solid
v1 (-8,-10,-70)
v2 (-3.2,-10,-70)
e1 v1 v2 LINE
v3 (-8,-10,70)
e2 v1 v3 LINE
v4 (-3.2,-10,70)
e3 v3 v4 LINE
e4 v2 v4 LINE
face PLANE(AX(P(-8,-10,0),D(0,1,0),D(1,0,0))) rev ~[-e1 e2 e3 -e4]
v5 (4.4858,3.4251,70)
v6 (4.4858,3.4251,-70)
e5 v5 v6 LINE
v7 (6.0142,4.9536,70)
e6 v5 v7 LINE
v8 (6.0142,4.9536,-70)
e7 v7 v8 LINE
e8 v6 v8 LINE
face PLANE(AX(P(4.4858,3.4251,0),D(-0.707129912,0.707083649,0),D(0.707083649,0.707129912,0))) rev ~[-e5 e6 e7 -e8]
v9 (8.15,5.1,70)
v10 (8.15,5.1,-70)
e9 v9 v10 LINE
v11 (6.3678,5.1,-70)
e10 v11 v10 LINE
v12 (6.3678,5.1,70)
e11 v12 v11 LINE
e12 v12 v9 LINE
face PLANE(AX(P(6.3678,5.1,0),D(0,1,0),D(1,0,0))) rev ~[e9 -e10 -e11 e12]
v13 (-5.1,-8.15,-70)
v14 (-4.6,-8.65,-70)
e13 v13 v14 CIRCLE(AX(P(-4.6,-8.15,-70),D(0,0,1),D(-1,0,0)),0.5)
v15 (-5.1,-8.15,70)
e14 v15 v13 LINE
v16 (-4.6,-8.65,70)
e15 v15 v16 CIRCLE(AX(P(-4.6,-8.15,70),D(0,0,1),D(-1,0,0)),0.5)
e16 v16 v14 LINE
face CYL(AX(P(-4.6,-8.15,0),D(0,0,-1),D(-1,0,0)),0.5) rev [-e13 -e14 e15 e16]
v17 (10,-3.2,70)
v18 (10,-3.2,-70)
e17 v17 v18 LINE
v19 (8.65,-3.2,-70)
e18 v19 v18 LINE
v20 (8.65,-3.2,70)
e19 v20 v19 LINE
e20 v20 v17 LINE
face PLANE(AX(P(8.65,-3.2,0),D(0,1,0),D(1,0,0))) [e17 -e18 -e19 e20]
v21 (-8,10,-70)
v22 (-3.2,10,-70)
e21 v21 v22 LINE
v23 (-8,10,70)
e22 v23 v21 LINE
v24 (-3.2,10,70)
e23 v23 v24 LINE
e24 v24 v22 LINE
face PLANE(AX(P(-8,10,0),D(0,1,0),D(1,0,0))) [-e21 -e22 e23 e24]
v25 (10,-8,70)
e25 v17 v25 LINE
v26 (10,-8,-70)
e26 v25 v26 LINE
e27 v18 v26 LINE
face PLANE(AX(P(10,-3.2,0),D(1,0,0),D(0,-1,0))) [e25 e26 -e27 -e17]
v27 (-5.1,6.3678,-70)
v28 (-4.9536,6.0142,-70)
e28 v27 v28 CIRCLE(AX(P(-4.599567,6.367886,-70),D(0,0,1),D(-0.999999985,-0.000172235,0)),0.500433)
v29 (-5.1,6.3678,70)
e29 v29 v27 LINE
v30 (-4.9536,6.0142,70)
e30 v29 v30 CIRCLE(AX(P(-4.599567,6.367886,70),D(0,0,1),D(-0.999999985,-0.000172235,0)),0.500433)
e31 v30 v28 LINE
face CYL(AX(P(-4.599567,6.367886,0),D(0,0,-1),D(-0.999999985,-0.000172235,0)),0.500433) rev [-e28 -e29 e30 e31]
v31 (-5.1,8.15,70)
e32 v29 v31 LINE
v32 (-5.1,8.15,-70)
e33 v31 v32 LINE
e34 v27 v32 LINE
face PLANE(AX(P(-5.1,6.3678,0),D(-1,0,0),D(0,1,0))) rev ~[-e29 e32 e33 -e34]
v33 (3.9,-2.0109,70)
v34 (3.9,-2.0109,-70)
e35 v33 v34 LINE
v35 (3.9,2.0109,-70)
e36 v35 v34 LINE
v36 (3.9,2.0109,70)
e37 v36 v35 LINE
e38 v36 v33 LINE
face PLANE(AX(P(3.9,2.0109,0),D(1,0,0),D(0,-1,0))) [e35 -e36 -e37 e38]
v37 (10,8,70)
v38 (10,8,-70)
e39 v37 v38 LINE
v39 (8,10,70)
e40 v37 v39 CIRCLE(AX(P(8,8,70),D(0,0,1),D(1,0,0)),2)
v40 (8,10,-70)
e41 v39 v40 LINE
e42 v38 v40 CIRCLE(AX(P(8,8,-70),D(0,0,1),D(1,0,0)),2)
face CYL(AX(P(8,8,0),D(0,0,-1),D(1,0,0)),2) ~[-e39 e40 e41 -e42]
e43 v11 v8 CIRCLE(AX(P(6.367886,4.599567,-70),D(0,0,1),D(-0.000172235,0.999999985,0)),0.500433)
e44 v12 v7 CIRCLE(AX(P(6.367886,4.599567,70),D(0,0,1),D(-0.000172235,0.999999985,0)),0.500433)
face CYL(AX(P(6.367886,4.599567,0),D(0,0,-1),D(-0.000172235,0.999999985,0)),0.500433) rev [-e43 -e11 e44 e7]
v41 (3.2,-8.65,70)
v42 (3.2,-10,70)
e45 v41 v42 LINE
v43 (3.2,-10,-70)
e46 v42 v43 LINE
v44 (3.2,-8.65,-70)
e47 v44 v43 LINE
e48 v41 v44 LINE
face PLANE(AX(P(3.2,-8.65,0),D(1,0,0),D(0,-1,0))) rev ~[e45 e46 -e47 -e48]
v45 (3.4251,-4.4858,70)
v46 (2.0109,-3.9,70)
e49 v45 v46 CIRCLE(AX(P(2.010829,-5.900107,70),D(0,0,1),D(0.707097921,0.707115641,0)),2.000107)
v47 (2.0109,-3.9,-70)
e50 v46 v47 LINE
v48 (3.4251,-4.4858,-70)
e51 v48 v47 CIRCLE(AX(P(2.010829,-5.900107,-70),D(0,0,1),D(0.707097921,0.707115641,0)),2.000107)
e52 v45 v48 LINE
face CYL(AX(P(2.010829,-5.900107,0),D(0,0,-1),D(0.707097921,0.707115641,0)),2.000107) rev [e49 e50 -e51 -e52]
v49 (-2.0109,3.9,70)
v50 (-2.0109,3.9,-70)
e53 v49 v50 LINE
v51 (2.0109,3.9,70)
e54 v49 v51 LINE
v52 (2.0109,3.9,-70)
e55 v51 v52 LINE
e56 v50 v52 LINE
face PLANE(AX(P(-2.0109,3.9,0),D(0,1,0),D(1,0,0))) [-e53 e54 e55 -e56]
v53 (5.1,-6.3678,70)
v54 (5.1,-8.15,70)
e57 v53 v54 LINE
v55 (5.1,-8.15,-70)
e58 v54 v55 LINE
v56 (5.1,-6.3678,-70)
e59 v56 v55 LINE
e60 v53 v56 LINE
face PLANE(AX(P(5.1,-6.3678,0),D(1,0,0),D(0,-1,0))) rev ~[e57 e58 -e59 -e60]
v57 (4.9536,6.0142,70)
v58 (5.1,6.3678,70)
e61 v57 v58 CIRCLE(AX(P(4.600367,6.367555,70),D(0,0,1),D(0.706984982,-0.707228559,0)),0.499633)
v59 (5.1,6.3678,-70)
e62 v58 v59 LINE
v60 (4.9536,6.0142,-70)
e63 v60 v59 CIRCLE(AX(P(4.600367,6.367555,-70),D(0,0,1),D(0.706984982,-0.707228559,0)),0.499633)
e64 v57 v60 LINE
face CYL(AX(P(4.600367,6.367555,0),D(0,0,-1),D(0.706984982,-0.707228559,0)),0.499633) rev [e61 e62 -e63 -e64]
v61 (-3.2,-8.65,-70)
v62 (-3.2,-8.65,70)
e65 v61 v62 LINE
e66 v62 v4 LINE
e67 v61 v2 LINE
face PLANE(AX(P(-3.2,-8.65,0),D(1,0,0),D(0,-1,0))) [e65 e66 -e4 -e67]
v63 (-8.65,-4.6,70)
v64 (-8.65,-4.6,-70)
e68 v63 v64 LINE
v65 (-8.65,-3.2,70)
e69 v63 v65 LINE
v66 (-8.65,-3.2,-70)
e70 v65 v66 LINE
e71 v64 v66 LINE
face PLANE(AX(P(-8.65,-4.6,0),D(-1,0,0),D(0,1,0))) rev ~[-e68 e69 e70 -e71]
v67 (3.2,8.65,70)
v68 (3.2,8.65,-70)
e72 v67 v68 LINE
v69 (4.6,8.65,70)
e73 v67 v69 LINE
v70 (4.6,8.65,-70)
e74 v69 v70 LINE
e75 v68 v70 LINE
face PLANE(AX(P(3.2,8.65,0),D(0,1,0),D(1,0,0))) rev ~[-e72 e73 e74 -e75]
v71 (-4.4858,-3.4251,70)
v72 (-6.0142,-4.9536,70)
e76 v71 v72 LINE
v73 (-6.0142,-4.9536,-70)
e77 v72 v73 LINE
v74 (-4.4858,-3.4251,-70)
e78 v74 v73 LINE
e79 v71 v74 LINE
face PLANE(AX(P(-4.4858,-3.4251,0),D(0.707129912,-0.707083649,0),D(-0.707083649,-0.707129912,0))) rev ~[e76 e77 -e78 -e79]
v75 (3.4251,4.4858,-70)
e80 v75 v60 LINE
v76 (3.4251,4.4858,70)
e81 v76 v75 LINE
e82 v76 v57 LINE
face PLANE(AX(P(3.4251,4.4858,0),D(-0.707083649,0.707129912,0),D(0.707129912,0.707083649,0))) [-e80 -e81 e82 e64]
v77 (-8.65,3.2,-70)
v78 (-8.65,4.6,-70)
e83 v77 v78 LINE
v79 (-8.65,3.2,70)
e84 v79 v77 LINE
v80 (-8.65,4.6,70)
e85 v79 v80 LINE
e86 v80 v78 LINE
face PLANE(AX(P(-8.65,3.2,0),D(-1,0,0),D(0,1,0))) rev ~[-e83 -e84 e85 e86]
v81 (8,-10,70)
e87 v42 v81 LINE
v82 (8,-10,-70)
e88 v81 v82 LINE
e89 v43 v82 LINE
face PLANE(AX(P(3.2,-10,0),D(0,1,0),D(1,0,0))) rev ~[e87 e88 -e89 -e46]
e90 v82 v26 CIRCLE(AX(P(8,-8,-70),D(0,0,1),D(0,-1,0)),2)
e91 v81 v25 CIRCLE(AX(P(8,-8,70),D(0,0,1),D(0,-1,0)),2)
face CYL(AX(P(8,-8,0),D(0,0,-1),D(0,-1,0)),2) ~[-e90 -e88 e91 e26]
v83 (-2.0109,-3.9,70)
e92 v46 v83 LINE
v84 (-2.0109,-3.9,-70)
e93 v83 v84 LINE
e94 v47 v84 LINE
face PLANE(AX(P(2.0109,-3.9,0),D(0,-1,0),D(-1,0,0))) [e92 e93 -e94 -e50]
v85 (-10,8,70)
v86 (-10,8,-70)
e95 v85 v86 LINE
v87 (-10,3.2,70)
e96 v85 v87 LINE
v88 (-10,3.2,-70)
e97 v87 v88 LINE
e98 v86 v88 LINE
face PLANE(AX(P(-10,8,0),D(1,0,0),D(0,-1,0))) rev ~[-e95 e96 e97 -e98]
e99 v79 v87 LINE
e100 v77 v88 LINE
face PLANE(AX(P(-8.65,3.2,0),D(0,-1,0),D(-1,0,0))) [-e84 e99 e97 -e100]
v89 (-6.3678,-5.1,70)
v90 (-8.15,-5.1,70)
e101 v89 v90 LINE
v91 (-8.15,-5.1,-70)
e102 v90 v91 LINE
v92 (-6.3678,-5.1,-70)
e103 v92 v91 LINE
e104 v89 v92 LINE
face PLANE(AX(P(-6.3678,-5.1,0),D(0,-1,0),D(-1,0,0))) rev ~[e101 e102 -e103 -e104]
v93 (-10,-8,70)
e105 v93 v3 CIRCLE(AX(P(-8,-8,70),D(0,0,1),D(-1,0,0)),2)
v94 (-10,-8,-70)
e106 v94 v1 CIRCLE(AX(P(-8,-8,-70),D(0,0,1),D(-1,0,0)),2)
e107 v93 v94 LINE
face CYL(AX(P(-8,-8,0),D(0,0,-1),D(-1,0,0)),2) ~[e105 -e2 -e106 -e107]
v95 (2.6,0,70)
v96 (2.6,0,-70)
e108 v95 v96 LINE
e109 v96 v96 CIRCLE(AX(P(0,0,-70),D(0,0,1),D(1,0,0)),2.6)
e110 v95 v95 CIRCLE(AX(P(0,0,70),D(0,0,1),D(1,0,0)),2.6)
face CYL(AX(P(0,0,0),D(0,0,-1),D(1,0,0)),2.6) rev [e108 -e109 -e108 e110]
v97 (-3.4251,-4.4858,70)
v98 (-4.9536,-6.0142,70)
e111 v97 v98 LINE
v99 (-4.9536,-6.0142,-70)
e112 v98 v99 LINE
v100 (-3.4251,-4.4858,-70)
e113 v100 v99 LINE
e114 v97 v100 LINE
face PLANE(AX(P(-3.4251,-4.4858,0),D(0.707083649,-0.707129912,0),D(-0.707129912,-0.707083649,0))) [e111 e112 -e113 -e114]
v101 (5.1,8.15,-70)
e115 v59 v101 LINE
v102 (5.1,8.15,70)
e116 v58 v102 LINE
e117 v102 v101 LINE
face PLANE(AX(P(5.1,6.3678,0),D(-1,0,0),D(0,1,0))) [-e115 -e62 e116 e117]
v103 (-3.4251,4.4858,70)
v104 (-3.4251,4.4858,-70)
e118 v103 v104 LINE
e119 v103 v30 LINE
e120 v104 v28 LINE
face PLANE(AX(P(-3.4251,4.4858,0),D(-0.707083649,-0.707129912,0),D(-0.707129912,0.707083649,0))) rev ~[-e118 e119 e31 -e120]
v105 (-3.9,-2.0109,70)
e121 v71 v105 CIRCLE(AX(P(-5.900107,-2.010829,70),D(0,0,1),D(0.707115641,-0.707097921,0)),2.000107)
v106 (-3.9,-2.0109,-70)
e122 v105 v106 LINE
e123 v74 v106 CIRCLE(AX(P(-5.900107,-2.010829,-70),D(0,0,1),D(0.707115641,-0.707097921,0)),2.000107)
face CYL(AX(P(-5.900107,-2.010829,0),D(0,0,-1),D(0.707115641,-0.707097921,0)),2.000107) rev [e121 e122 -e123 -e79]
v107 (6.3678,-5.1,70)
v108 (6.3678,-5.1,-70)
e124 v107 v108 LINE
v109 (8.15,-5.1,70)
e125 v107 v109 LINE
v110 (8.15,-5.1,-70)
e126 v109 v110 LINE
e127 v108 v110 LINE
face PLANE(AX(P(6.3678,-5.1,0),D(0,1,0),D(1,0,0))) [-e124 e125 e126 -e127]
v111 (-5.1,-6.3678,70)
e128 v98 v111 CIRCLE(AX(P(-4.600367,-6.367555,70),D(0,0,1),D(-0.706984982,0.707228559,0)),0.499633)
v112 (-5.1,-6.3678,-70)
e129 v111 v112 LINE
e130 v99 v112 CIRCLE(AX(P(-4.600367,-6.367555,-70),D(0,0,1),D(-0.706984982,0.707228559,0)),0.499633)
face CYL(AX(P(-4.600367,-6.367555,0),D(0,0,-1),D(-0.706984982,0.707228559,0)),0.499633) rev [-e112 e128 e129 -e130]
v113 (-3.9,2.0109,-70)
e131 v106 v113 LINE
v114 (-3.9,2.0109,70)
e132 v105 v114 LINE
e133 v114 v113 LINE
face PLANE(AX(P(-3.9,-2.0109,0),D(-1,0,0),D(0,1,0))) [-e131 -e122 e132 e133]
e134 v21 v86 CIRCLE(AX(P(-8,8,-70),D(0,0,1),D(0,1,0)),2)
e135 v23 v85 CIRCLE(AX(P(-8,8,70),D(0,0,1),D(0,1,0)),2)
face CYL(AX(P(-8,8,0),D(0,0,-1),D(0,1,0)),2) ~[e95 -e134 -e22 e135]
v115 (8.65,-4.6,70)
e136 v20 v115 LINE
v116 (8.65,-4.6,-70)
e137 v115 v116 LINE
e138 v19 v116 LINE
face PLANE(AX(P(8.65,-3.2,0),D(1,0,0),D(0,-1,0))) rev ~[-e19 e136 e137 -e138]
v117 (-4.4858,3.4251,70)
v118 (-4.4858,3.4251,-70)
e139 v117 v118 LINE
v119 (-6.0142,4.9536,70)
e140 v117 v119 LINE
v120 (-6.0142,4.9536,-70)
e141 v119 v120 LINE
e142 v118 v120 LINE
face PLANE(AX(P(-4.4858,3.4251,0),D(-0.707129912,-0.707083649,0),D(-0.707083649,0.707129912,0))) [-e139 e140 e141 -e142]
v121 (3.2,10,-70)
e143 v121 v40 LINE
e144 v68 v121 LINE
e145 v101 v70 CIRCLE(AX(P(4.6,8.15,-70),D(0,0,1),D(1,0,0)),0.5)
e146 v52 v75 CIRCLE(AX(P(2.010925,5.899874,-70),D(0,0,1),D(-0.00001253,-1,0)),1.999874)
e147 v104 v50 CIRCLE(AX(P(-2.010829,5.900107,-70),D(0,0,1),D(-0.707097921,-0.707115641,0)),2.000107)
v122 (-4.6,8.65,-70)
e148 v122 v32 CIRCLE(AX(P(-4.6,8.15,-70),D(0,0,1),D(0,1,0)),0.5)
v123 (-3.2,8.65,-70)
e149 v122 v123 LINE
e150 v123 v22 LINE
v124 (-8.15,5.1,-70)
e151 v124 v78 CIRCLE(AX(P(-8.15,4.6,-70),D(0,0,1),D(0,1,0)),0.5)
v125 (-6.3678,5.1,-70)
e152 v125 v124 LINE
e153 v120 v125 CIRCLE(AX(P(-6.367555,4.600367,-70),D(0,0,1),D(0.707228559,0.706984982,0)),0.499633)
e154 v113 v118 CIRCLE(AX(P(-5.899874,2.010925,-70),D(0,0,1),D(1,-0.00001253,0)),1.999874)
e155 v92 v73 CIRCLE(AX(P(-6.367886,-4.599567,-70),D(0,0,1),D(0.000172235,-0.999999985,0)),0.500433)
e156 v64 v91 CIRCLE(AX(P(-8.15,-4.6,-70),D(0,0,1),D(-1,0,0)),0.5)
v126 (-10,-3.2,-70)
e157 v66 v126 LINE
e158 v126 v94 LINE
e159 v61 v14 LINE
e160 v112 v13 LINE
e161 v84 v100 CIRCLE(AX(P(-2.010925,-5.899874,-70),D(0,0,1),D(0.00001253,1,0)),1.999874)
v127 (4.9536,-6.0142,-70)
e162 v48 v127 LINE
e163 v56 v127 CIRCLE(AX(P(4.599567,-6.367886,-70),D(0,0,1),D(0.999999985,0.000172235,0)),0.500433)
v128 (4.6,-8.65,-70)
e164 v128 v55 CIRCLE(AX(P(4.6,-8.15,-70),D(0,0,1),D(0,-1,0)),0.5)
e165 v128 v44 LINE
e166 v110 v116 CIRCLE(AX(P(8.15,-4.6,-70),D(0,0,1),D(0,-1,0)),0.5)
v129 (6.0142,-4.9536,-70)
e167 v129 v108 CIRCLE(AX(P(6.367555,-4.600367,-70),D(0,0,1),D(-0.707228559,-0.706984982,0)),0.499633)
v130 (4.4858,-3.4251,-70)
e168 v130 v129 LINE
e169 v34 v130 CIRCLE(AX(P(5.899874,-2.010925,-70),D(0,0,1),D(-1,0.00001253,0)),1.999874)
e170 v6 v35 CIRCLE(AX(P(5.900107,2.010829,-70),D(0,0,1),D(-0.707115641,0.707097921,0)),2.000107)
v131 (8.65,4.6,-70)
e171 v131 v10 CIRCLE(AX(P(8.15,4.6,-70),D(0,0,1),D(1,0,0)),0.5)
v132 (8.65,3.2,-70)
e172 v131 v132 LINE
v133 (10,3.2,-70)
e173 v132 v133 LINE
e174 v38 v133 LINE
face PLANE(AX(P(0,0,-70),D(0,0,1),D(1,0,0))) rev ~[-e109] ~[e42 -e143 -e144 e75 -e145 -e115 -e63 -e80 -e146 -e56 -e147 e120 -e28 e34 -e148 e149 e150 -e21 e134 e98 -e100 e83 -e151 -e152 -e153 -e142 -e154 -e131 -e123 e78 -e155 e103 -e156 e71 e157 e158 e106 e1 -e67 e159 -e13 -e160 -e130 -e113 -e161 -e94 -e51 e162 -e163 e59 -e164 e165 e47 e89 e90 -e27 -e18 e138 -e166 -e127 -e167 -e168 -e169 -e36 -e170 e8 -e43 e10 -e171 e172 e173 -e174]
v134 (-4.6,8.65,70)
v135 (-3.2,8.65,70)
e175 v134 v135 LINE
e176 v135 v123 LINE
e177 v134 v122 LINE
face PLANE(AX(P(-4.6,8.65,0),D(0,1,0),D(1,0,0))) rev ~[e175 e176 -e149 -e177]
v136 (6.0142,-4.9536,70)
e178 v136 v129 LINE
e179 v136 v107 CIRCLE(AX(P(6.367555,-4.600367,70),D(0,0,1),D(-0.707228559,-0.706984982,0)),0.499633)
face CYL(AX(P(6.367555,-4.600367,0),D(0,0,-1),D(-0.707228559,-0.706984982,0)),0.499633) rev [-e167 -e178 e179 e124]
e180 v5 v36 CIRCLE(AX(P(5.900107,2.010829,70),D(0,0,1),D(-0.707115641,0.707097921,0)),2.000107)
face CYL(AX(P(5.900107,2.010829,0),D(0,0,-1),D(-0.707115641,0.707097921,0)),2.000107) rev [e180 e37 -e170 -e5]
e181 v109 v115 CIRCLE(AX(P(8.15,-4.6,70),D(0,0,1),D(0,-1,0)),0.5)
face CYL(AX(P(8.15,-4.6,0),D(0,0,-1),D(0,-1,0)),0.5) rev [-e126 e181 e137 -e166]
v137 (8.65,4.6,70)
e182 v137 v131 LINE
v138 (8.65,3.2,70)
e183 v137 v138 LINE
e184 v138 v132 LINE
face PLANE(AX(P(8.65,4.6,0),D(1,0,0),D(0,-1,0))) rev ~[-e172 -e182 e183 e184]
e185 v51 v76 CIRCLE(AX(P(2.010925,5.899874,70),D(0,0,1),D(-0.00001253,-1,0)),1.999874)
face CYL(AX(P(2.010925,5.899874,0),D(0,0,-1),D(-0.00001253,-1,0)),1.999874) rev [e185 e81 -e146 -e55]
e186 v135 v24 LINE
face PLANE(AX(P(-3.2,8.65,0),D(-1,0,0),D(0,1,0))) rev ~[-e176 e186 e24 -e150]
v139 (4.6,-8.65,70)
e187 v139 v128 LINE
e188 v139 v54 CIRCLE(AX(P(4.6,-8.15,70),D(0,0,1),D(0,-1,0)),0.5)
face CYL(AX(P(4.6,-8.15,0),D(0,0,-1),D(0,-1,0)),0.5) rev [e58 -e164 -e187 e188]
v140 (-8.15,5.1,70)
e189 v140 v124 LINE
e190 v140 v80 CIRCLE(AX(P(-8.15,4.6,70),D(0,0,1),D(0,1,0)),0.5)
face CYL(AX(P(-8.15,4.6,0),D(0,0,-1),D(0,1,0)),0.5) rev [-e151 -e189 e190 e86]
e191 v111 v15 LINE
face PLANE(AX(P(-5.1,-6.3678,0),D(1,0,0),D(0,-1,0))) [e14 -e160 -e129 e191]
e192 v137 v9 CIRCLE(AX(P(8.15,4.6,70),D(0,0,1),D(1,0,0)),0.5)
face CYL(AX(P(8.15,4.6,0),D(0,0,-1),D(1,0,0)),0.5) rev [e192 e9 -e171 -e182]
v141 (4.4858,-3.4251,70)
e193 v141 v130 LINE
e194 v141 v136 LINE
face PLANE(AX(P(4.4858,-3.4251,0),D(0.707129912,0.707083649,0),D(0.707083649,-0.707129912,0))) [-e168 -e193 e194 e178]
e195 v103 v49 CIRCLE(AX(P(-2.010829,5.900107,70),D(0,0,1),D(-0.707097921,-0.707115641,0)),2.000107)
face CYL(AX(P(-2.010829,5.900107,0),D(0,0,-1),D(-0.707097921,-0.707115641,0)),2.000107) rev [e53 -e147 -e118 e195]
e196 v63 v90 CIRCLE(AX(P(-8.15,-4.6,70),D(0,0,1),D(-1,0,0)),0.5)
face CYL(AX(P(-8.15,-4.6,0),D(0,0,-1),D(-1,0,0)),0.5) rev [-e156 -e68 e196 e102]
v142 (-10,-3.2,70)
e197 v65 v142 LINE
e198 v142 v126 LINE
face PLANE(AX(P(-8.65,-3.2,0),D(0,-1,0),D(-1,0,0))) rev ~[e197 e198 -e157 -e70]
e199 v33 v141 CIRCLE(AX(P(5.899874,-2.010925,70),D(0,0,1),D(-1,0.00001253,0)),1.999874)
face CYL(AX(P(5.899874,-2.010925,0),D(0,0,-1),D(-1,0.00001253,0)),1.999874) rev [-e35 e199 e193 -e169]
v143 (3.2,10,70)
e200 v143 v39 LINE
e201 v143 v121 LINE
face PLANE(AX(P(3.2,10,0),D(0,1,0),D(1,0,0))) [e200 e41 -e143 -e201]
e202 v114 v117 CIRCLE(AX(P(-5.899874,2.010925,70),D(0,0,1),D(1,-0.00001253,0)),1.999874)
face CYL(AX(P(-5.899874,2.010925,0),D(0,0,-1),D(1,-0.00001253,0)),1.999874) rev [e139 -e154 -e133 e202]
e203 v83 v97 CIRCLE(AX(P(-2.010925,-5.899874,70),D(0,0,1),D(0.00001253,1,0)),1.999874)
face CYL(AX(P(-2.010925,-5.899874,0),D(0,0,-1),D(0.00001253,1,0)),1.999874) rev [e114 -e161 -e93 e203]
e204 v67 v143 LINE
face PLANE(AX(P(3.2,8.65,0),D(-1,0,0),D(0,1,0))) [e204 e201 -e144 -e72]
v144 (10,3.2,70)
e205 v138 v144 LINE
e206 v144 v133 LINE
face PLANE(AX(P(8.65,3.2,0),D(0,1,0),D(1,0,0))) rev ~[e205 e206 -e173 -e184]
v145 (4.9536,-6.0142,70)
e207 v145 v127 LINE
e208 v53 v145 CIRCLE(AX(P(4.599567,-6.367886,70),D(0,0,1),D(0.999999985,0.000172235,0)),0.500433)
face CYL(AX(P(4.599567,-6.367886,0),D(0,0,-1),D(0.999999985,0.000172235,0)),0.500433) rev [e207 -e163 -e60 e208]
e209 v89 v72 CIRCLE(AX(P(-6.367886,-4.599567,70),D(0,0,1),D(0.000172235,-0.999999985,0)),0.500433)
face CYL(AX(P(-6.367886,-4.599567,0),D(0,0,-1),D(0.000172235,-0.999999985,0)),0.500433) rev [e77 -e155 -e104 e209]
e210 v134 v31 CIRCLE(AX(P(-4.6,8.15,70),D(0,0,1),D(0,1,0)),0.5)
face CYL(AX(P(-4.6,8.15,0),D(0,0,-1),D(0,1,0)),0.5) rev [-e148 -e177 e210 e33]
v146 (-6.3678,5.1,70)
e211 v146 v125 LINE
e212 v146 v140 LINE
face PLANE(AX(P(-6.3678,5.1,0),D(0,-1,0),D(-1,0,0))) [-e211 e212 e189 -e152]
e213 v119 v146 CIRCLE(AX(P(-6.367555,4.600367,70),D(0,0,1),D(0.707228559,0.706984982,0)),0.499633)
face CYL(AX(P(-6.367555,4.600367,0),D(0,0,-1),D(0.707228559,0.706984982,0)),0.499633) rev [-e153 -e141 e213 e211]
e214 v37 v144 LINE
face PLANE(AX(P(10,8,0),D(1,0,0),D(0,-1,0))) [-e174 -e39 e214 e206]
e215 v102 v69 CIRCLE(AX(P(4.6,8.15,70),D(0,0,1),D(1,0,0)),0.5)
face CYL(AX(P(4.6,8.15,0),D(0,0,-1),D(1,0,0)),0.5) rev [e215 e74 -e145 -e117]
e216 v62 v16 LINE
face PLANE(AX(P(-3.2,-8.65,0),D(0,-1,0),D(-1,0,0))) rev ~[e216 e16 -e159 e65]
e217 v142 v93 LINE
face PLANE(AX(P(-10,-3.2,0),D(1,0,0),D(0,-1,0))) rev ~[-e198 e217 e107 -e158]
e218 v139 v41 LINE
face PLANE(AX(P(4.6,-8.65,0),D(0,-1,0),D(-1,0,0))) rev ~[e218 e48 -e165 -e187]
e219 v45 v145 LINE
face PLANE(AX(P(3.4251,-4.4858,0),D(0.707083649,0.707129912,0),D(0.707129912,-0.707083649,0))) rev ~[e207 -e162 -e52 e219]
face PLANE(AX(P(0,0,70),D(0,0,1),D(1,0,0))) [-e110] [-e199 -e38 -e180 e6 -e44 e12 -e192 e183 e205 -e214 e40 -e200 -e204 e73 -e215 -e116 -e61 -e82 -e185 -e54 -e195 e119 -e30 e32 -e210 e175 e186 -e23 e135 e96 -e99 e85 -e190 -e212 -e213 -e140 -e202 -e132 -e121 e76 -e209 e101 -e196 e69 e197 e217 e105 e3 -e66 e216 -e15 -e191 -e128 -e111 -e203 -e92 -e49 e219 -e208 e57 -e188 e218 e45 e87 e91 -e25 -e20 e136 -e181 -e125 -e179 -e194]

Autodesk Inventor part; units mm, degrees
ref_plane "YZ Plane" through (0, 0, 0) normal (1, 0, 0) x (0, 1, 0)
ref_plane "XZ Plane" through (0, 0, 0) normal (0, 1, 0) x (-1, 0, 0)
ref_plane "XY Plane" through (0, 0, 0) normal (0, 0, 1) x (1, 0, 0)
sketch "Sketch1" plane through (0, 0, 0) normal (0, 0, 1) x (1, 0, 0)
  line L0 (-8, -10) -> (-3.2, -10)
  arc A0 (-10, -8) -> (-8, -10) centre (-8, -8) ccw
  line L1 (3.2, -10) -> (8, -10)
  line L2 (-8, 10) -> (-3.2, 10)
  line L3 (3.2, 10) -> (8, 10)
  line L4 (-10, 8) -> (-10, 3.2)
  arc A1 (-8, 10) -> (-10, 8) centre (-8, 8) ccw
  line L5 (-10, -3.2) -> (-10, -8)
  line L6 (10, 8) -> (10, 3.2)
  arc A2 (10, 8) -> (8, 10) centre (8, 8) ccw
  line L7 (10, -3.2) -> (10, -8)
  arc A3 (8, -10) -> (10, -8) centre (8, -8) ccw
  circle A4 centre (0, 0) radius 2.6
  line L8 (8.65, 4.6) -> (8.65, 3.2)
  line L9 (8.65, -3.2) -> (8.65, -4.6)
  arc A5 (8.15, -5.1) -> (8.65, -4.6) centre (8.15, -4.6) ccw
  arc A6 (8.65, 4.6) -> (8.15, 5.1) centre (8.15, 4.6) ccw
  line L10 (3.9, 2.0109) -> (3.9, -2.0109)
  arc A7 (4.4858, 3.4251) -> (3.9, 2.0109) centre (5.9, 2.0109) ccw
  line L11 (8.65, 3.2) -> (10, 3.2)
  line L12 (8.65, -3.2) -> (10, -3.2)
  line L13 (6.3678, -5.1) -> (8.15, -5.1)
  arc A8 (6.0142, -4.9536) -> (6.3678, -5.1) centre (6.3678, -4.6) ccw
  line L14 (6.3678, 5.1) -> (8.15, 5.1)
  arc A9 (6.3678, 5.1) -> (6.0142, 4.9536) centre (6.3678, 4.6) ccw
  line L15 (4.4858, 3.4251) -> (6.0142, 4.9536)
  line L16 (4.4858, -3.4251) -> (6.0142, -4.9536)
  arc A10 (3.9, -2.0109) -> (4.4858, -3.4251) centre (5.9, -2.0109) ccw
  line L17 (-4.6, 8.65) -> (-3.2, 8.65)
  line L18 (3.2, 8.65) -> (4.6, 8.65)
  arc A11 (5.1, 8.15) -> (4.6, 8.65) centre (4.6, 8.15) ccw
  arc A12 (-4.6, 8.65) -> (-5.1, 8.15) centre (-4.6, 8.15) ccw
  line L19 (-2.0109, 3.9) -> (2.0109, 3.9)
  arc A13 (-3.4251, 4.4858) -> (-2.0109, 3.9) centre (-2.0109, 5.9) ccw
  line L20 (-3.2, 8.65) -> (-3.2, 10)
  line L21 (3.2, 8.65) -> (3.2, 10)
  line L22 (5.1, 6.3678) -> (5.1, 8.15)
  arc A14 (4.9536, 6.0142) -> (5.1, 6.3678) centre (4.6, 6.3678) ccw
  line L23 (-5.1, 6.3678) -> (-5.1, 8.15)
  arc A15 (-5.1, 6.3678) -> (-4.9536, 6.0142) centre (-4.6, 6.3678) ccw
  line L24 (-3.4251, 4.4858) -> (-4.9536, 6.0142)
  line L25 (3.4251, 4.4858) -> (4.9536, 6.0142)
  arc A16 (2.0109, 3.9) -> (3.4251, 4.4858) centre (2.0109, 5.9) ccw
  line L26 (-8.65, -4.6) -> (-8.65, -3.2)
  line L27 (-8.65, 3.2) -> (-8.65, 4.6)
  arc A17 (-8.15, 5.1) -> (-8.65, 4.6) centre (-8.15, 4.6) ccw
  arc A18 (-8.65, -4.6) -> (-8.15, -5.1) centre (-8.15, -4.6) ccw
  line L28 (-3.9, -2.0109) -> (-3.9, 2.0109)
  arc A19 (-4.4858, -3.4251) -> (-3.9, -2.0109) centre (-5.9, -2.0109) ccw
  line L29 (-8.65, -3.2) -> (-10, -3.2)
  line L30 (-8.65, 3.2) -> (-10, 3.2)
  line L31 (-6.3678, 5.1) -> (-8.15, 5.1)
  arc A20 (-6.0142, 4.9536) -> (-6.3678, 5.1) centre (-6.3678, 4.6) ccw
  line L32 (-6.3678, -5.1) -> (-8.15, -5.1)
  arc A21 (-6.3678, -5.1) -> (-6.0142, -4.9536) centre (-6.3678, -4.6) ccw
  line L33 (-4.4858, -3.4251) -> (-6.0142, -4.9536)
  line L34 (-4.4858, 3.4251) -> (-6.0142, 4.9536)
  arc A22 (-3.9, 2.0109) -> (-4.4858, 3.4251) centre (-5.9, 2.0109) ccw
  line L35 (4.6, -8.65) -> (3.2, -8.65)
  line L36 (-3.2, -8.65) -> (-4.6, -8.65)
  arc A23 (-5.1, -8.15) -> (-4.6, -8.65) centre (-4.6, -8.15) ccw
  arc A24 (4.6, -8.65) -> (5.1, -8.15) centre (4.6, -8.15) ccw
  line L37 (2.0109, -3.9) -> (-2.0109, -3.9)
  arc A25 (3.4251, -4.4858) -> (2.0109, -3.9) centre (2.0109, -5.9) ccw
  line L38 (3.2, -8.65) -> (3.2, -10)
  line L39 (-3.2, -8.65) -> (-3.2, -10)
  line L40 (-5.1, -6.3678) -> (-5.1, -8.15)
  arc A26 (-4.9536, -6.0142) -> (-5.1, -6.3678) centre (-4.6, -6.3678) ccw
  line L41 (5.1, -6.3678) -> (5.1, -8.15)
  arc A27 (5.1, -6.3678) -> (4.9536, -6.0142) centre (4.6, -6.3678) ccw
  line L42 (3.4251, -4.4858) -> (4.9536, -6.0142)
  line L43 (-3.4251, -4.4858) -> (-4.9536, -6.0142)
  arc A28 (-2.0109, -3.9) -> (-3.4251, -4.4858) centre (-2.0109, -5.9) ccw
  dimension "d0" = 0.5
  dimension "d1" = 2
  dimension "d2" = 5.2
  dimension "d3" = 45
  dimension "d4" = 45
  dimension "d5" = 45
  dimension "d6" = 90
  dimension "d7" = 90
  dimension "d8" = 45
  dimension "d9" = 45
  dimension "d10" = 90
  dimension "d11" = 90
  dimension "d12" = 90
  dimension "d13" = 90
  dimension "d14" = 90
  dimension "d15" = 90
  dimension "d16" = 90
  dimension "d17" = 90
  dimension "d18" = 90
  dimension "d19" = 90
  dimension "d20" = 90
  dimension "d21" = 90
  dimension "d22" = 90
  dimension "d23" = 90
  dimension "d24" = 1.35
  dimension "d25" = 4.9
  dimension "d26" = 6.1
  dimension "d27" = 6.8
  dimension "d28" = 13.2
  dimension "d29" = 13.9
  dimension "d30" = 15.1
  dimension "d31" = 18.65
  dimension "d32" = 20
  dimension "d33" = 6.4
  dimension "d34" = 1.9
  dimension "d35" = 8.3
  dimension "d36" = 6.8
  dimension "d37" = 13.2
  dimension "d38" = 5.45
  dimension "d39" = 11.85
  dimension "d40" = 0.7
  dimension "d41" = 7.1
  dimension "d42" = 1.5
  dimension "d43" = 1.5
  dimension "d44" = 10
  dimension "d45" = 10
  dimension "d46" = 3.2
  dimension "d47" = 8.65
  dimension "d48" = 0.75
  dimension "d49" = 0.75
  dimension "d50" = 5.1
  dimension "d51" = 0.75
  dimension "d52" = 3.2
  dimension "d53" = 3.2
  dimension "d54" = 8.65
  dimension "d55" = 8.65
  dimension "d56" = 0.75
  dimension "d57" = 0.75
  dimension "d58" = 5.1
  dimension "d59" = 0.75
  dimension "d60" = 10
  dimension "d61" = 10
  dimension "d62" = 5.1
  dimension "d63" = 5.1
extrude "Extrusion1" add sketch "Sketch1" along normal mid plane 140
equation "\"d70\" = bed_frame_width - 2 * bed_extrusion_size"
equation "\"platform_width\" = 214"
equation "\"platform_depth\" = 214"
equation "\"bed_cl_y_offset\" = 173.25"
equation "\"bed_frame_width\" = 180"
equation "\"bed_extrusion_size\" = 20"
properties part number "2020 Extrusion - Double Z motor - Bed Y" material "Aluminum 6061"
